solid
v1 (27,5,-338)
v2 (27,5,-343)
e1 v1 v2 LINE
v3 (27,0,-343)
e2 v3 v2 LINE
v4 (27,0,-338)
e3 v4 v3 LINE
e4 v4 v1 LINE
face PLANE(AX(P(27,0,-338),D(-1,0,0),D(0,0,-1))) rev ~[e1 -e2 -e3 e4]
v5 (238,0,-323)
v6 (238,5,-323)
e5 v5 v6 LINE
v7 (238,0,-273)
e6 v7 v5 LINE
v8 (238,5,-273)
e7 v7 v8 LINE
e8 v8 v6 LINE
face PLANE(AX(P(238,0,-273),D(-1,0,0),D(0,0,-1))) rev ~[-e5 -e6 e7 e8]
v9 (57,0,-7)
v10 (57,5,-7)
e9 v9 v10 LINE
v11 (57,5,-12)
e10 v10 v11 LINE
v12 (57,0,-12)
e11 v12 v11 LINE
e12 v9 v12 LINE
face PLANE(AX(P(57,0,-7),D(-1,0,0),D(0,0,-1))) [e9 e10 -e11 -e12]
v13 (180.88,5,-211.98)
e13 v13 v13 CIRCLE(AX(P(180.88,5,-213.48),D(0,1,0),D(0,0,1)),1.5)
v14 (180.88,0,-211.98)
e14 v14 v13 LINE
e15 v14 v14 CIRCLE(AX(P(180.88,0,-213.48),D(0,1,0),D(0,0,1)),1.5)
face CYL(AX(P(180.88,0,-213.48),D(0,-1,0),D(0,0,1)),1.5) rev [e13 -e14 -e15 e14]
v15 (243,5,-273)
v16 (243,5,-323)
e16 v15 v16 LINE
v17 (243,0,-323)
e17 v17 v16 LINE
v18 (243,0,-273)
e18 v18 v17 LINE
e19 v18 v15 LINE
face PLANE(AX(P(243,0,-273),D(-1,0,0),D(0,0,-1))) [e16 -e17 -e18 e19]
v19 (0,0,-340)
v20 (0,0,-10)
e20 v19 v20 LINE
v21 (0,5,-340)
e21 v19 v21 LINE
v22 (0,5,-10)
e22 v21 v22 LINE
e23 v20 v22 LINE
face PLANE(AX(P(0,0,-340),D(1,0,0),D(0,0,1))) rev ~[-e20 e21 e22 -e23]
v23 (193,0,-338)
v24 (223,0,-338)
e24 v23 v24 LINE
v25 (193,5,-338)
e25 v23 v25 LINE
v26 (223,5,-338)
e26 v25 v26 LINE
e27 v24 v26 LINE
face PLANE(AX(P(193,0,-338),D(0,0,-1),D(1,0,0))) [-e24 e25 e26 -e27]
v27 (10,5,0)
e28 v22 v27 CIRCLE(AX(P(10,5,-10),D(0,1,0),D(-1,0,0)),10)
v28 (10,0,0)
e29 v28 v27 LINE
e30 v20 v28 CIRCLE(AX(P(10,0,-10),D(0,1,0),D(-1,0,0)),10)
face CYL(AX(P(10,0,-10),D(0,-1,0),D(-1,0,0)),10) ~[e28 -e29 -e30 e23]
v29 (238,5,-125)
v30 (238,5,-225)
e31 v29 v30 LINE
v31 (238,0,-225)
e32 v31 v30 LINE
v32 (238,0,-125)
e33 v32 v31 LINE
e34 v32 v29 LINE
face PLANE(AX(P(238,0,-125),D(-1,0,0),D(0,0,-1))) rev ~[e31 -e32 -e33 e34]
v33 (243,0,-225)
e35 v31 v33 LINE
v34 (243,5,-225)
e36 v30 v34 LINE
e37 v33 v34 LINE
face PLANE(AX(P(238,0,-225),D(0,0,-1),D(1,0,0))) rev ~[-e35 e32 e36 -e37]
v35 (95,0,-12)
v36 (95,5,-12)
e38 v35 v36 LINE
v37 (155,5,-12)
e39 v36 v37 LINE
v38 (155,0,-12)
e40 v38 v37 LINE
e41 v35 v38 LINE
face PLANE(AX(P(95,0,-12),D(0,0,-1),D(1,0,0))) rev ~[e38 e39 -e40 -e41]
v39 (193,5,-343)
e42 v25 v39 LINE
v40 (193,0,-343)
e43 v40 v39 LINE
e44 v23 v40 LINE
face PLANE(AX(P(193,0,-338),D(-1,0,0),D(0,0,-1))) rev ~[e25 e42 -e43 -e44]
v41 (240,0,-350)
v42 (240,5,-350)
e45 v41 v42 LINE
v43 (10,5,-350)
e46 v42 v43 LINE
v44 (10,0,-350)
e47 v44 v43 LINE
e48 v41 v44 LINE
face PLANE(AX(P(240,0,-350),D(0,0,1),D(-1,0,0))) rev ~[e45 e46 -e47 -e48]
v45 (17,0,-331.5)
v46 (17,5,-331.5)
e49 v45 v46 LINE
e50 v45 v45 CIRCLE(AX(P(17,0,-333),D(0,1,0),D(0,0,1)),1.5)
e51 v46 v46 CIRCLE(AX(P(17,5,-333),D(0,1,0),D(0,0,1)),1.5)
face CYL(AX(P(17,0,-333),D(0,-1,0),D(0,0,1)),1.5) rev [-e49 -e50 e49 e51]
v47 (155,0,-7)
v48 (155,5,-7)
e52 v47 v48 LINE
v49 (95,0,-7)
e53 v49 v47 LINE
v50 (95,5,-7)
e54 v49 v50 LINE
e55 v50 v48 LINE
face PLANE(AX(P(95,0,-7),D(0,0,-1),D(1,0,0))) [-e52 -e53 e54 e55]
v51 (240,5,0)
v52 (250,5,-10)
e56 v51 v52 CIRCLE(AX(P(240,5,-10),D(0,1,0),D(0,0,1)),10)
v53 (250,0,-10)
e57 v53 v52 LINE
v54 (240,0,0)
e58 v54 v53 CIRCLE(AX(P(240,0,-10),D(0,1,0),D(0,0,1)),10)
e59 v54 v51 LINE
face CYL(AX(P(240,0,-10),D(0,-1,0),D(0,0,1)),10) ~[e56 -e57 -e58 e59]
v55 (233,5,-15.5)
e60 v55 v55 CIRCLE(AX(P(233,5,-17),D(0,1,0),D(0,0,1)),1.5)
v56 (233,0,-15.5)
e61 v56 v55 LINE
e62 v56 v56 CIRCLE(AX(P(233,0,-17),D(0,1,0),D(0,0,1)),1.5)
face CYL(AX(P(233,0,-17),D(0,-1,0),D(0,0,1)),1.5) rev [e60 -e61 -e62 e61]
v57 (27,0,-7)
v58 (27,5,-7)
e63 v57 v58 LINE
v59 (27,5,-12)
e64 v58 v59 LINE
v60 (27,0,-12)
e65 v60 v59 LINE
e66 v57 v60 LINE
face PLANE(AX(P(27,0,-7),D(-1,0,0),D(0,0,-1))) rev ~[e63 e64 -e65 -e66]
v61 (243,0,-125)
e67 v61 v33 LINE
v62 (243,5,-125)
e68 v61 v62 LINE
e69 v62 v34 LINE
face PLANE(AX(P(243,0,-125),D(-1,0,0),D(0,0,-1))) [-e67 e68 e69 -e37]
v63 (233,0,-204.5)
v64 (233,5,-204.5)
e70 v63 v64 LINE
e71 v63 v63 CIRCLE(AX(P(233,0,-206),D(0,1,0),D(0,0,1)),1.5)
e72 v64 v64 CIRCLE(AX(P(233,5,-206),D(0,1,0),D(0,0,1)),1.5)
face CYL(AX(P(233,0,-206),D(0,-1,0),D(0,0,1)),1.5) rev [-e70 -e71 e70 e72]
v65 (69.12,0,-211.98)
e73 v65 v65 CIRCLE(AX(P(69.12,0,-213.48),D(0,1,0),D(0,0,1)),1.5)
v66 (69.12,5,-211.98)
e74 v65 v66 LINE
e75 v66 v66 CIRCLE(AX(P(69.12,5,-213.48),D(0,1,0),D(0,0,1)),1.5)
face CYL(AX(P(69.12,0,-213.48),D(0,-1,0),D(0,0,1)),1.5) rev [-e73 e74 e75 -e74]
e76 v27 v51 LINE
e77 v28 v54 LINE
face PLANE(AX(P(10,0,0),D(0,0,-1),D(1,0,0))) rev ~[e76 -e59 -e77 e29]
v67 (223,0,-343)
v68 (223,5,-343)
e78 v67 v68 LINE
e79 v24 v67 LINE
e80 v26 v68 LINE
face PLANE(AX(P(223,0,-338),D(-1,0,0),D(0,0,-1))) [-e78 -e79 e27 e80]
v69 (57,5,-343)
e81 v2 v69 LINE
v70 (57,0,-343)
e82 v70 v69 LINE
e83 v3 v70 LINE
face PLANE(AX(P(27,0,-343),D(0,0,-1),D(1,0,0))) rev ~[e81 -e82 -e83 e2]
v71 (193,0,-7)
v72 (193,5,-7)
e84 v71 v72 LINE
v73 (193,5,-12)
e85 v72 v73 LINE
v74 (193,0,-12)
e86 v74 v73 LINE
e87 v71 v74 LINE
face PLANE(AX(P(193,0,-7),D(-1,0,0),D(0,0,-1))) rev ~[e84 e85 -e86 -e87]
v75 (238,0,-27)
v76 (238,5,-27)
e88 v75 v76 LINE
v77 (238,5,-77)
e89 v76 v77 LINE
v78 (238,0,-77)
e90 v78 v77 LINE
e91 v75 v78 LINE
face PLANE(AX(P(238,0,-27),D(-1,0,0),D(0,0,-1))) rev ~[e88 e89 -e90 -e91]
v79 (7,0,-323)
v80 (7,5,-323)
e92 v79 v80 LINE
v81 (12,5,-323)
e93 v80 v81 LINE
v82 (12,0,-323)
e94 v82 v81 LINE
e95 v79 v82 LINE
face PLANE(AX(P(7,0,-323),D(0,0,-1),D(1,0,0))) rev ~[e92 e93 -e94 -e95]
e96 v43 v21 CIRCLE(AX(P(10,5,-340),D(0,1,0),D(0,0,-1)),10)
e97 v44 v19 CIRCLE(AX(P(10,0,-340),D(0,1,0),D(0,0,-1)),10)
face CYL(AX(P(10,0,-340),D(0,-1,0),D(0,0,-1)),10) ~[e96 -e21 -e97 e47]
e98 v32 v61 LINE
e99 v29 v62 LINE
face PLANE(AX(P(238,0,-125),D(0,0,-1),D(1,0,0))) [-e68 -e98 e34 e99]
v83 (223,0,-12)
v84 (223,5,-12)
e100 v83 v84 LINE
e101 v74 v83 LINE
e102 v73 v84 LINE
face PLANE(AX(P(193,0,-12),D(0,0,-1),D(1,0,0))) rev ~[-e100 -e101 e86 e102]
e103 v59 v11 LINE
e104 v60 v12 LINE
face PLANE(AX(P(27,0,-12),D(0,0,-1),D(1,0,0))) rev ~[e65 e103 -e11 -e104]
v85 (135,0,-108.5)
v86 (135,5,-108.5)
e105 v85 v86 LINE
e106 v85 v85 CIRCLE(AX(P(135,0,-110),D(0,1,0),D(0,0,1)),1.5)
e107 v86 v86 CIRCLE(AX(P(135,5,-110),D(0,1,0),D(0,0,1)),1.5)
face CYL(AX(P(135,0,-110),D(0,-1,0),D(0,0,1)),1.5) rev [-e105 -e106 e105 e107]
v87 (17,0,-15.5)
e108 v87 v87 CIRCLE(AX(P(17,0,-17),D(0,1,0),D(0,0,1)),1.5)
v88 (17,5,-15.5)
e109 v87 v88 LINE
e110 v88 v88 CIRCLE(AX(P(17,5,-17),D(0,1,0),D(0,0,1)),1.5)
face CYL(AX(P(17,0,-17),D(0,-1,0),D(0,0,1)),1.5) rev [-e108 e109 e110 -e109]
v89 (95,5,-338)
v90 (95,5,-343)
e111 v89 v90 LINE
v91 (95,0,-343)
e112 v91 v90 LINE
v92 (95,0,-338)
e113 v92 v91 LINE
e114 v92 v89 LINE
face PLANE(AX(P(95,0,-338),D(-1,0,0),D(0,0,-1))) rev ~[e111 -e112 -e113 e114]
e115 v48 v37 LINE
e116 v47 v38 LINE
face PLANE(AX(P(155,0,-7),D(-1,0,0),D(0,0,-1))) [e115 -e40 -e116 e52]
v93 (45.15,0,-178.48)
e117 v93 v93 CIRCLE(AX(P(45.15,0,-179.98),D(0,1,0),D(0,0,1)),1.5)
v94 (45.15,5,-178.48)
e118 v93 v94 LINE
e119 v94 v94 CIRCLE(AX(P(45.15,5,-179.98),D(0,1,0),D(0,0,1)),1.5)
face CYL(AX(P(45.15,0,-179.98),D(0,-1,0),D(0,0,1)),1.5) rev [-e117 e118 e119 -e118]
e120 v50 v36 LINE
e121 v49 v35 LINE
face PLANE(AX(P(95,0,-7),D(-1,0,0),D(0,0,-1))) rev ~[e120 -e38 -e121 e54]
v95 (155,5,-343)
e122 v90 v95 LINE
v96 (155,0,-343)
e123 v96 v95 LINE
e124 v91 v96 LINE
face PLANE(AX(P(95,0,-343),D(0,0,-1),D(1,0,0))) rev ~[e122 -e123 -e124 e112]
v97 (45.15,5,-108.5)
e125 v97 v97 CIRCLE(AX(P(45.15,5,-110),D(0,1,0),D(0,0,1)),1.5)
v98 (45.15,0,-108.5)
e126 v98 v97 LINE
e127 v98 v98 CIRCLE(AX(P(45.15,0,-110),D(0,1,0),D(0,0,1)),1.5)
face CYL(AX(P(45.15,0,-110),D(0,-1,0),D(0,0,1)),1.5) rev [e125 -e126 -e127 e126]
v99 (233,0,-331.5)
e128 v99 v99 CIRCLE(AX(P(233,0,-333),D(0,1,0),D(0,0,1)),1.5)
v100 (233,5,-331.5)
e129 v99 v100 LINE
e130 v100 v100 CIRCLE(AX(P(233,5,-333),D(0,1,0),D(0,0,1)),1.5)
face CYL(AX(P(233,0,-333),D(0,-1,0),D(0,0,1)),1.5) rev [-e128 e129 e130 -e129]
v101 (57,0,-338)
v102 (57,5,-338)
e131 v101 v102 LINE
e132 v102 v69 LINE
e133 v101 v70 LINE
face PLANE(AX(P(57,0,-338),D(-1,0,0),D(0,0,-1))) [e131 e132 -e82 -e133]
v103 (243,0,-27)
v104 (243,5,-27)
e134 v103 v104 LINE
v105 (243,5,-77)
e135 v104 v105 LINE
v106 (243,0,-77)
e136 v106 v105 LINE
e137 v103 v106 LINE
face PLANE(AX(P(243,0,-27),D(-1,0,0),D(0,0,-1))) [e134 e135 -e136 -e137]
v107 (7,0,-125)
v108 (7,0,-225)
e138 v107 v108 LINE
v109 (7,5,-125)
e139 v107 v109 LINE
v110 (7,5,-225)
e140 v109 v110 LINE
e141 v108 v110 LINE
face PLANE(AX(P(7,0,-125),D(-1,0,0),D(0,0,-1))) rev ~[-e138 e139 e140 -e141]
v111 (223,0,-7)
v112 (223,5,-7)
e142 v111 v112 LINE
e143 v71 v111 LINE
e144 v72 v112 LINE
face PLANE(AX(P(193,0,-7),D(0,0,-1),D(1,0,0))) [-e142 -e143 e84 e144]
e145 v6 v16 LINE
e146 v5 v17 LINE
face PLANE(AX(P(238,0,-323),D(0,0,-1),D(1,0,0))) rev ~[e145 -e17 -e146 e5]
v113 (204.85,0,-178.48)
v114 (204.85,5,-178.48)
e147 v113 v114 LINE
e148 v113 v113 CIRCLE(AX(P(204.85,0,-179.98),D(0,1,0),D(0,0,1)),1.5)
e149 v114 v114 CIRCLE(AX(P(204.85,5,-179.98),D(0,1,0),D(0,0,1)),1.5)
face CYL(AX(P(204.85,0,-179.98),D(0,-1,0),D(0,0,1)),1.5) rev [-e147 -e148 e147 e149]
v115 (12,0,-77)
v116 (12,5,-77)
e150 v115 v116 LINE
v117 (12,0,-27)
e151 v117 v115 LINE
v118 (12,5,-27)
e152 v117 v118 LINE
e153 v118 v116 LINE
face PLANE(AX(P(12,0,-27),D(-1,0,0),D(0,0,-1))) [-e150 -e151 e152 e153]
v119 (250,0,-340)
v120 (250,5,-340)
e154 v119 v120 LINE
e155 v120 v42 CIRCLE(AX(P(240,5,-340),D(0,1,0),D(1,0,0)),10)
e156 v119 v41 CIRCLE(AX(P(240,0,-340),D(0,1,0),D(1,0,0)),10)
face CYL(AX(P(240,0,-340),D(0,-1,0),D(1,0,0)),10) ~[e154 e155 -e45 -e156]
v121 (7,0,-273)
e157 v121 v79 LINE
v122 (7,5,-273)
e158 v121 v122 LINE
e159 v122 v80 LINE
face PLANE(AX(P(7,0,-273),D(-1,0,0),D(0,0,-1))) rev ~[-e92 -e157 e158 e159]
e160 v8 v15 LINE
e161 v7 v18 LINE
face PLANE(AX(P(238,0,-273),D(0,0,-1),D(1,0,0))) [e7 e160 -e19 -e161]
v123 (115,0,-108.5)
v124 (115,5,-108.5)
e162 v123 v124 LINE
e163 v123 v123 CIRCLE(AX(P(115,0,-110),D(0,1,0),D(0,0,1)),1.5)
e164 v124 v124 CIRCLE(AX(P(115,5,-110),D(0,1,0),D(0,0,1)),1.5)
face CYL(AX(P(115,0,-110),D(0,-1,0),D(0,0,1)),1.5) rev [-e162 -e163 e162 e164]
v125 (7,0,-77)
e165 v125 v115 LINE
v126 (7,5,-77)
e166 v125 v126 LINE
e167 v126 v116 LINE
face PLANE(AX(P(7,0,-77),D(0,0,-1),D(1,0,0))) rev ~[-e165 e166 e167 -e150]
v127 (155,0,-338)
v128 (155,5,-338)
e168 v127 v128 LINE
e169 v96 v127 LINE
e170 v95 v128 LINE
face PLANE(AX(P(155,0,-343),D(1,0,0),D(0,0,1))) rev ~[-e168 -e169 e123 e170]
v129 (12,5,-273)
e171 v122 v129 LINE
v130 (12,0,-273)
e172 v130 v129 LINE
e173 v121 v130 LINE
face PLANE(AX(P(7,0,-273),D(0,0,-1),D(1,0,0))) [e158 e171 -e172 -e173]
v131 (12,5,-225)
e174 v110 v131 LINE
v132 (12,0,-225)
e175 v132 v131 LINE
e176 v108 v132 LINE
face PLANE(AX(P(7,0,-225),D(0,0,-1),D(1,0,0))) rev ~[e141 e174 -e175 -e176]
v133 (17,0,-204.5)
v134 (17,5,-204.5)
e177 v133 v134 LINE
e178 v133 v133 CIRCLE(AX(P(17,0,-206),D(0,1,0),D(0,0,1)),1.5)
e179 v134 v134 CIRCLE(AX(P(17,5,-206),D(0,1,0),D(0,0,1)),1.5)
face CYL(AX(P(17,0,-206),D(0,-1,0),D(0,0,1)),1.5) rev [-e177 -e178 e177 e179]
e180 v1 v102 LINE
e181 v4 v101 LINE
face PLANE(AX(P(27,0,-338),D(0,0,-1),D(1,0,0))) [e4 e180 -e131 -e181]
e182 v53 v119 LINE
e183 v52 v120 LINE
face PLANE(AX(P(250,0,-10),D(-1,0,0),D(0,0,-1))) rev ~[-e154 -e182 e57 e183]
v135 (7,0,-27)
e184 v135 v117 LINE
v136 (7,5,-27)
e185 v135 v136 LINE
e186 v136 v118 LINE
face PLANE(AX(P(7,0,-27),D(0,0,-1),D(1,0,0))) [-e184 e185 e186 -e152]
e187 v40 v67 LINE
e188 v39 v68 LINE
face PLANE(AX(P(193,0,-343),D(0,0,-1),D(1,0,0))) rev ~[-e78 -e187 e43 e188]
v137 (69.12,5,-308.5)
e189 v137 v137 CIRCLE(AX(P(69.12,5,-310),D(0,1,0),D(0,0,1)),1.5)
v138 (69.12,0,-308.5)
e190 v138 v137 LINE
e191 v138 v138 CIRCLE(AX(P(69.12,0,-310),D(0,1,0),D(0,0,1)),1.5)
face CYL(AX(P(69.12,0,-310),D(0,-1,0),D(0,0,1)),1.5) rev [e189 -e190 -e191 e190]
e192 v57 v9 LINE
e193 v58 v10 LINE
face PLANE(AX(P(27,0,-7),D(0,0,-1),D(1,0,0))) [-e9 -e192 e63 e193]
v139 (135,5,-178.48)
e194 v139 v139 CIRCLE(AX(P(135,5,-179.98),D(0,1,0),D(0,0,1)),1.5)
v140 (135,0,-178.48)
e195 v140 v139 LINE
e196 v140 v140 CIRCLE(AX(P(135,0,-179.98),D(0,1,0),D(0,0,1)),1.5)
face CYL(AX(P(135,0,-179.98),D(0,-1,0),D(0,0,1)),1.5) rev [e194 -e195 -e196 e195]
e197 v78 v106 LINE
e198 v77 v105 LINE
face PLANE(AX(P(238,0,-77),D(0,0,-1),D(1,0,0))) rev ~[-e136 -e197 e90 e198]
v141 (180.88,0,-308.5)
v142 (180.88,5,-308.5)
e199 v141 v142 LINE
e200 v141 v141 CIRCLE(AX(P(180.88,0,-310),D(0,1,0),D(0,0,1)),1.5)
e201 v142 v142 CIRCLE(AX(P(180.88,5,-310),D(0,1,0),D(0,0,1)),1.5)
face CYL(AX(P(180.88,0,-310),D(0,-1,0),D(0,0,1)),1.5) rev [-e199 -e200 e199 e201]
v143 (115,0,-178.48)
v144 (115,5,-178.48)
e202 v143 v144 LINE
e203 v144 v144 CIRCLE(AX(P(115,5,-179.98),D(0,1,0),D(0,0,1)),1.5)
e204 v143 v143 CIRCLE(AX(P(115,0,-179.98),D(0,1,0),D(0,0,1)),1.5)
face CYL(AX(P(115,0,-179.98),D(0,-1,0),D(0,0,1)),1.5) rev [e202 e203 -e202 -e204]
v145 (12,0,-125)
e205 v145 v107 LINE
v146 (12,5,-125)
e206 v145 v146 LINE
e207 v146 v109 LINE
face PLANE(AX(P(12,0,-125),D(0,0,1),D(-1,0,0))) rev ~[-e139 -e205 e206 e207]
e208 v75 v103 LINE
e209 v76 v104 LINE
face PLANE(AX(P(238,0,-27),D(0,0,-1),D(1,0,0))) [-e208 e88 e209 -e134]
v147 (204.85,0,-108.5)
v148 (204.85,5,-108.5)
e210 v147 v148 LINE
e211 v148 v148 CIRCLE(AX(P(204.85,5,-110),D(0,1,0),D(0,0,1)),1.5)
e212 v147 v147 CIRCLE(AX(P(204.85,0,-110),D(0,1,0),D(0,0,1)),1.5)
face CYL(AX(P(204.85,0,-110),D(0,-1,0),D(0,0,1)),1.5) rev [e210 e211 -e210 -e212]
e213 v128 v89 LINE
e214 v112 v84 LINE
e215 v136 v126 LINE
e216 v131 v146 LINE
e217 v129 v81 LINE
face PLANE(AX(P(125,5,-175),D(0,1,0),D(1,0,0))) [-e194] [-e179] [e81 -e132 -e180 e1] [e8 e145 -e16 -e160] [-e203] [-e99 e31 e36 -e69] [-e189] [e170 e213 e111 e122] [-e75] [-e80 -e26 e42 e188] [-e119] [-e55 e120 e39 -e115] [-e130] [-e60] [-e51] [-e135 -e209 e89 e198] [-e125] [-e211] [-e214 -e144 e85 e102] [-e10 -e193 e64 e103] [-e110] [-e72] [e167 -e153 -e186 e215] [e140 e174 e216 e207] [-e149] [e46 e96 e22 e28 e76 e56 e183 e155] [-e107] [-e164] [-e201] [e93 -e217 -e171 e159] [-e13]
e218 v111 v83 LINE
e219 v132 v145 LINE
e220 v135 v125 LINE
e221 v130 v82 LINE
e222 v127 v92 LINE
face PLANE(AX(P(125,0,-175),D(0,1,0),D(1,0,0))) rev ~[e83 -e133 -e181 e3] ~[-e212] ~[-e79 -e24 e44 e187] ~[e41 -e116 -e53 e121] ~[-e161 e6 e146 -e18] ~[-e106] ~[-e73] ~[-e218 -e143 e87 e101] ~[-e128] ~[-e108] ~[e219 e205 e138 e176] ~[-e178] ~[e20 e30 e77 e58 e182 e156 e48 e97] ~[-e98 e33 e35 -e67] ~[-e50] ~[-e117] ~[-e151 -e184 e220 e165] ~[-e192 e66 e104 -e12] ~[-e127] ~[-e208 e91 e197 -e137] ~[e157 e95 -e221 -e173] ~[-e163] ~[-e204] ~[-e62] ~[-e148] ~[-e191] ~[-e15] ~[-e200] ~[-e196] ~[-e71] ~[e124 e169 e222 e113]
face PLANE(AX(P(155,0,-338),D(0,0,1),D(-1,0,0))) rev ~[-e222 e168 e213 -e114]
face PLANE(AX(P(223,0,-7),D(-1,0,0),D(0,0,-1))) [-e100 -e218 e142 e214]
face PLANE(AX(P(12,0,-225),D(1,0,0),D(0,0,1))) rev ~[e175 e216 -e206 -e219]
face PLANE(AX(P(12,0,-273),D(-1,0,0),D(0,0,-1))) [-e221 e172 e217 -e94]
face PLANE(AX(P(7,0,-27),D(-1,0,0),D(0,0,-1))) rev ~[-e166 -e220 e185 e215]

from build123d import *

# Parameters (mm, degrees)
SKETCH1_R           = 1.5
SKETCH1_W           = 30
SKETCH1_H           = 5
SKETCH1_W_2         = 5
SKETCH1_H_2         = 50
SKETCH1_W_3         = 60
SKETCH1_H_3         = 100
BOSS_EXTRUDE1_DEPTH = 5


with BuildPart() as part:
    # Sketch1 → Boss-Extrude1 (new body)
    # profile 1 of 2: a face of its own
    with BuildSketch(Plane(origin=(0, 0, 0), x_dir=(1, 0, 0), z_dir=(0, 1, 0))):
        with BuildLine():
            ThreePointArc((0, 10), (2.928932188, 2.928932188), (10, 0))
            Line((10, 0), (240, 0))
            ThreePointArc((240, 0), (247.071067812, 2.928932188), (250, 10))
            Line((250, 10), (250, 340))
            ThreePointArc((250, 340), (247.071067812, 347.071067812), (240, 350))
            Line((240, 350), (10, 350))
            ThreePointArc((10, 350), (2.928932188, 347.071067812), (0, 340))
            Line((0, 340), (0, 10))
        make_face()
        with Locations(Location((17, 17, 0), (0, 0, 270))):
            Circle(SKETCH1_R, mode=Mode.SUBTRACT)
        with Locations((42, 9.5)):
            Rectangle(SKETCH1_W, SKETCH1_H, mode=Mode.SUBTRACT)
        with Locations((9.5, 52)):
            Rectangle(SKETCH1_W_2, SKETCH1_H_2, mode=Mode.SUBTRACT)
        with Locations(Location((45.15, 110, 0), (0, 0, 270))):
            Circle(SKETCH1_R, mode=Mode.SUBTRACT)
        with Locations(Location((115, 110, 0), (0, 0, 270))):
            Circle(SKETCH1_R, mode=Mode.SUBTRACT)
        with Locations((125, 9.5)):
            Rectangle(SKETCH1_W_3, SKETCH1_H, mode=Mode.SUBTRACT)
        with Locations((208, 9.5)):
            Rectangle(SKETCH1_W, SKETCH1_H, mode=Mode.SUBTRACT)
        with Locations(Location((233, 17, 0), (0, 0, 270))):
            Circle(SKETCH1_R, mode=Mode.SUBTRACT)
        with Locations((240.5, 52)):
            Rectangle(SKETCH1_W_2, SKETCH1_H_2, mode=Mode.SUBTRACT)
        with Locations(Location((135, 110, 0), (0, 0, 270))):
            Circle(SKETCH1_R, mode=Mode.SUBTRACT)
        with Locations(Location((204.85, 110, 0), (0, 0, 270))):
            Circle(SKETCH1_R, mode=Mode.SUBTRACT)
        Polygon((7, 175), (7, 225), (12, 225), (12, 125), (7, 125), align=None, mode=Mode.SUBTRACT)
        with Locations(Location((17, 206, 0), (0, 0, 270))):
            Circle(SKETCH1_R, mode=Mode.SUBTRACT)
        with Locations(Location((45.15, 179.98, 0), (0, 0, 270))):
            Circle(SKETCH1_R, mode=Mode.SUBTRACT)
        with Locations(Location((69.12, 213.48, 0), (0, 0, 270))):
            Circle(SKETCH1_R, mode=Mode.SUBTRACT)
        with Locations(Location((115, 179.98, 0), (0, 0, 270))):
            Circle(SKETCH1_R, mode=Mode.SUBTRACT)
        with Locations((9.5, 298)):
            Rectangle(SKETCH1_W_2, SKETCH1_H_2, mode=Mode.SUBTRACT)
        with Locations(Location((17, 333, 0), (0, 0, 270))):
            Circle(SKETCH1_R, mode=Mode.SUBTRACT)
        with Locations((42, 340.5)):
            Rectangle(SKETCH1_W, SKETCH1_H, mode=Mode.SUBTRACT)
        with Locations(Location((69.12, 310, 0), (0, 0, 270))):
            Circle(SKETCH1_R, mode=Mode.SUBTRACT)
        with Locations(Location((135, 179.98, 0), (0, 0, 270))):
            Circle(SKETCH1_R, mode=Mode.SUBTRACT)
        with Locations(Location((180.88, 213.48, 0), (0, 0, 270))):
            Circle(SKETCH1_R, mode=Mode.SUBTRACT)
        with Locations(Location((204.85, 179.98, 0), (0, 0, 270))):
            Circle(SKETCH1_R, mode=Mode.SUBTRACT)
        with Locations((240.5, 175)):
            Rectangle(SKETCH1_W_2, SKETCH1_H_3, mode=Mode.SUBTRACT)
        with Locations(Location((233, 206, 0), (0, 0, 270))):
            Circle(SKETCH1_R, mode=Mode.SUBTRACT)
        Polygon((95, 343), (125, 343), (155, 343), (155, 338), (95, 338), align=None, mode=Mode.SUBTRACT)
        with Locations(Location((180.88, 310, 0), (0, 0, 270))):
            Circle(SKETCH1_R, mode=Mode.SUBTRACT)
        with Locations((240.5, 298)):
            Rectangle(SKETCH1_W_2, SKETCH1_H_2, mode=Mode.SUBTRACT)
        with Locations((208, 340.5)):
            Rectangle(SKETCH1_W, SKETCH1_H, mode=Mode.SUBTRACT)
        with Locations(Location((233, 333, 0), (0, 0, 270))):
            Circle(SKETCH1_R, mode=Mode.SUBTRACT)
    # profile 2 of 2: a face of its own
    with BuildSketch(Plane(origin=(0, 0, 0), x_dir=(1, 0, 0), z_dir=(0, 1, 0))):
        with BuildLine():
            ThreePointArc((0, 10), (2.928932188, 2.928932188), (10, 0))
            Line((10, 0), (240, 0))
            ThreePointArc((240, 0), (247.071067812, 2.928932188), (250, 10))
            Line((250, 10), (250, 340))
            ThreePointArc((250, 340), (247.071067812, 347.071067812), (240, 350))
            Line((240, 350), (10, 350))
            ThreePointArc((10, 350), (2.928932188, 347.071067812), (0, 340))
            Line((0, 340), (0, 10))
        make_face()
        with Locations(Location((17, 17, 0), (0, 0, 270))):
            Circle(SKETCH1_R, mode=Mode.SUBTRACT)
        with Locations((42, 9.5)):
            Rectangle(SKETCH1_W, SKETCH1_H, mode=Mode.SUBTRACT)
        with Locations((9.5, 52)):
            Rectangle(SKETCH1_W_2, SKETCH1_H_2, mode=Mode.SUBTRACT)
        with Locations(Location((45.15, 110, 0), (0, 0, 270))):
            Circle(SKETCH1_R, mode=Mode.SUBTRACT)
        with Locations(Location((115, 110, 0), (0, 0, 270))):
            Circle(SKETCH1_R, mode=Mode.SUBTRACT)
        with Locations((125, 9.5)):
            Rectangle(SKETCH1_W_3, SKETCH1_H, mode=Mode.SUBTRACT)
        with Locations((208, 9.5)):
            Rectangle(SKETCH1_W, SKETCH1_H, mode=Mode.SUBTRACT)
        with Locations(Location((233, 17, 0), (0, 0, 270))):
            Circle(SKETCH1_R, mode=Mode.SUBTRACT)
        with Locations((240.5, 52)):
            Rectangle(SKETCH1_W_2, SKETCH1_H_2, mode=Mode.SUBTRACT)
        with Locations(Location((135, 110, 0), (0, 0, 270))):
            Circle(SKETCH1_R, mode=Mode.SUBTRACT)
        with Locations(Location((204.85, 110, 0), (0, 0, 270))):
            Circle(SKETCH1_R, mode=Mode.SUBTRACT)
        Polygon((7, 175), (7, 225), (12, 225), (12, 125), (7, 125), align=None, mode=Mode.SUBTRACT)
        with Locations(Location((17, 206, 0), (0, 0, 270))):
            Circle(SKETCH1_R, mode=Mode.SUBTRACT)
        with Locations(Location((45.15, 179.98, 0), (0, 0, 270))):
            Circle(SKETCH1_R, mode=Mode.SUBTRACT)
        with Locations(Location((69.12, 213.48, 0), (0, 0, 270))):
            Circle(SKETCH1_R, mode=Mode.SUBTRACT)
        with Locations(Location((115, 179.98, 0), (0, 0, 270))):
            Circle(SKETCH1_R, mode=Mode.SUBTRACT)
        with Locations((9.5, 298)):
            Rectangle(SKETCH1_W_2, SKETCH1_H_2, mode=Mode.SUBTRACT)
        with Locations(Location((17, 333, 0), (0, 0, 270))):
            Circle(SKETCH1_R, mode=Mode.SUBTRACT)
        with Locations((42, 340.5)):
            Rectangle(SKETCH1_W, SKETCH1_H, mode=Mode.SUBTRACT)
        with Locations(Location((69.12, 310, 0), (0, 0, 270))):
            Circle(SKETCH1_R, mode=Mode.SUBTRACT)
        with Locations(Location((135, 179.98, 0), (0, 0, 270))):
            Circle(SKETCH1_R, mode=Mode.SUBTRACT)
        with Locations(Location((180.88, 213.48, 0), (0, 0, 270))):
            Circle(SKETCH1_R, mode=Mode.SUBTRACT)
        with Locations(Location((204.85, 179.98, 0), (0, 0, 270))):
            Circle(SKETCH1_R, mode=Mode.SUBTRACT)
        with Locations((240.5, 175)):
            Rectangle(SKETCH1_W_2, SKETCH1_H_3, mode=Mode.SUBTRACT)
        with Locations(Location((233, 206, 0), (0, 0, 270))):
            Circle(SKETCH1_R, mode=Mode.SUBTRACT)
        Polygon((95, 343), (125, 343), (155, 343), (155, 338), (95, 338), align=None, mode=Mode.SUBTRACT)
        with Locations(Location((180.88, 310, 0), (0, 0, 270))):
            Circle(SKETCH1_R, mode=Mode.SUBTRACT)
        with Locations((240.5, 298)):
            Rectangle(SKETCH1_W_2, SKETCH1_H_2, mode=Mode.SUBTRACT)
        with Locations((208, 340.5)):
            Rectangle(SKETCH1_W, SKETCH1_H, mode=Mode.SUBTRACT)
        with Locations(Location((233, 333, 0), (0, 0, 270))):
            Circle(SKETCH1_R, mode=Mode.SUBTRACT)
    extrude(amount=BOSS_EXTRUDE1_DEPTH)


solid = part.part
